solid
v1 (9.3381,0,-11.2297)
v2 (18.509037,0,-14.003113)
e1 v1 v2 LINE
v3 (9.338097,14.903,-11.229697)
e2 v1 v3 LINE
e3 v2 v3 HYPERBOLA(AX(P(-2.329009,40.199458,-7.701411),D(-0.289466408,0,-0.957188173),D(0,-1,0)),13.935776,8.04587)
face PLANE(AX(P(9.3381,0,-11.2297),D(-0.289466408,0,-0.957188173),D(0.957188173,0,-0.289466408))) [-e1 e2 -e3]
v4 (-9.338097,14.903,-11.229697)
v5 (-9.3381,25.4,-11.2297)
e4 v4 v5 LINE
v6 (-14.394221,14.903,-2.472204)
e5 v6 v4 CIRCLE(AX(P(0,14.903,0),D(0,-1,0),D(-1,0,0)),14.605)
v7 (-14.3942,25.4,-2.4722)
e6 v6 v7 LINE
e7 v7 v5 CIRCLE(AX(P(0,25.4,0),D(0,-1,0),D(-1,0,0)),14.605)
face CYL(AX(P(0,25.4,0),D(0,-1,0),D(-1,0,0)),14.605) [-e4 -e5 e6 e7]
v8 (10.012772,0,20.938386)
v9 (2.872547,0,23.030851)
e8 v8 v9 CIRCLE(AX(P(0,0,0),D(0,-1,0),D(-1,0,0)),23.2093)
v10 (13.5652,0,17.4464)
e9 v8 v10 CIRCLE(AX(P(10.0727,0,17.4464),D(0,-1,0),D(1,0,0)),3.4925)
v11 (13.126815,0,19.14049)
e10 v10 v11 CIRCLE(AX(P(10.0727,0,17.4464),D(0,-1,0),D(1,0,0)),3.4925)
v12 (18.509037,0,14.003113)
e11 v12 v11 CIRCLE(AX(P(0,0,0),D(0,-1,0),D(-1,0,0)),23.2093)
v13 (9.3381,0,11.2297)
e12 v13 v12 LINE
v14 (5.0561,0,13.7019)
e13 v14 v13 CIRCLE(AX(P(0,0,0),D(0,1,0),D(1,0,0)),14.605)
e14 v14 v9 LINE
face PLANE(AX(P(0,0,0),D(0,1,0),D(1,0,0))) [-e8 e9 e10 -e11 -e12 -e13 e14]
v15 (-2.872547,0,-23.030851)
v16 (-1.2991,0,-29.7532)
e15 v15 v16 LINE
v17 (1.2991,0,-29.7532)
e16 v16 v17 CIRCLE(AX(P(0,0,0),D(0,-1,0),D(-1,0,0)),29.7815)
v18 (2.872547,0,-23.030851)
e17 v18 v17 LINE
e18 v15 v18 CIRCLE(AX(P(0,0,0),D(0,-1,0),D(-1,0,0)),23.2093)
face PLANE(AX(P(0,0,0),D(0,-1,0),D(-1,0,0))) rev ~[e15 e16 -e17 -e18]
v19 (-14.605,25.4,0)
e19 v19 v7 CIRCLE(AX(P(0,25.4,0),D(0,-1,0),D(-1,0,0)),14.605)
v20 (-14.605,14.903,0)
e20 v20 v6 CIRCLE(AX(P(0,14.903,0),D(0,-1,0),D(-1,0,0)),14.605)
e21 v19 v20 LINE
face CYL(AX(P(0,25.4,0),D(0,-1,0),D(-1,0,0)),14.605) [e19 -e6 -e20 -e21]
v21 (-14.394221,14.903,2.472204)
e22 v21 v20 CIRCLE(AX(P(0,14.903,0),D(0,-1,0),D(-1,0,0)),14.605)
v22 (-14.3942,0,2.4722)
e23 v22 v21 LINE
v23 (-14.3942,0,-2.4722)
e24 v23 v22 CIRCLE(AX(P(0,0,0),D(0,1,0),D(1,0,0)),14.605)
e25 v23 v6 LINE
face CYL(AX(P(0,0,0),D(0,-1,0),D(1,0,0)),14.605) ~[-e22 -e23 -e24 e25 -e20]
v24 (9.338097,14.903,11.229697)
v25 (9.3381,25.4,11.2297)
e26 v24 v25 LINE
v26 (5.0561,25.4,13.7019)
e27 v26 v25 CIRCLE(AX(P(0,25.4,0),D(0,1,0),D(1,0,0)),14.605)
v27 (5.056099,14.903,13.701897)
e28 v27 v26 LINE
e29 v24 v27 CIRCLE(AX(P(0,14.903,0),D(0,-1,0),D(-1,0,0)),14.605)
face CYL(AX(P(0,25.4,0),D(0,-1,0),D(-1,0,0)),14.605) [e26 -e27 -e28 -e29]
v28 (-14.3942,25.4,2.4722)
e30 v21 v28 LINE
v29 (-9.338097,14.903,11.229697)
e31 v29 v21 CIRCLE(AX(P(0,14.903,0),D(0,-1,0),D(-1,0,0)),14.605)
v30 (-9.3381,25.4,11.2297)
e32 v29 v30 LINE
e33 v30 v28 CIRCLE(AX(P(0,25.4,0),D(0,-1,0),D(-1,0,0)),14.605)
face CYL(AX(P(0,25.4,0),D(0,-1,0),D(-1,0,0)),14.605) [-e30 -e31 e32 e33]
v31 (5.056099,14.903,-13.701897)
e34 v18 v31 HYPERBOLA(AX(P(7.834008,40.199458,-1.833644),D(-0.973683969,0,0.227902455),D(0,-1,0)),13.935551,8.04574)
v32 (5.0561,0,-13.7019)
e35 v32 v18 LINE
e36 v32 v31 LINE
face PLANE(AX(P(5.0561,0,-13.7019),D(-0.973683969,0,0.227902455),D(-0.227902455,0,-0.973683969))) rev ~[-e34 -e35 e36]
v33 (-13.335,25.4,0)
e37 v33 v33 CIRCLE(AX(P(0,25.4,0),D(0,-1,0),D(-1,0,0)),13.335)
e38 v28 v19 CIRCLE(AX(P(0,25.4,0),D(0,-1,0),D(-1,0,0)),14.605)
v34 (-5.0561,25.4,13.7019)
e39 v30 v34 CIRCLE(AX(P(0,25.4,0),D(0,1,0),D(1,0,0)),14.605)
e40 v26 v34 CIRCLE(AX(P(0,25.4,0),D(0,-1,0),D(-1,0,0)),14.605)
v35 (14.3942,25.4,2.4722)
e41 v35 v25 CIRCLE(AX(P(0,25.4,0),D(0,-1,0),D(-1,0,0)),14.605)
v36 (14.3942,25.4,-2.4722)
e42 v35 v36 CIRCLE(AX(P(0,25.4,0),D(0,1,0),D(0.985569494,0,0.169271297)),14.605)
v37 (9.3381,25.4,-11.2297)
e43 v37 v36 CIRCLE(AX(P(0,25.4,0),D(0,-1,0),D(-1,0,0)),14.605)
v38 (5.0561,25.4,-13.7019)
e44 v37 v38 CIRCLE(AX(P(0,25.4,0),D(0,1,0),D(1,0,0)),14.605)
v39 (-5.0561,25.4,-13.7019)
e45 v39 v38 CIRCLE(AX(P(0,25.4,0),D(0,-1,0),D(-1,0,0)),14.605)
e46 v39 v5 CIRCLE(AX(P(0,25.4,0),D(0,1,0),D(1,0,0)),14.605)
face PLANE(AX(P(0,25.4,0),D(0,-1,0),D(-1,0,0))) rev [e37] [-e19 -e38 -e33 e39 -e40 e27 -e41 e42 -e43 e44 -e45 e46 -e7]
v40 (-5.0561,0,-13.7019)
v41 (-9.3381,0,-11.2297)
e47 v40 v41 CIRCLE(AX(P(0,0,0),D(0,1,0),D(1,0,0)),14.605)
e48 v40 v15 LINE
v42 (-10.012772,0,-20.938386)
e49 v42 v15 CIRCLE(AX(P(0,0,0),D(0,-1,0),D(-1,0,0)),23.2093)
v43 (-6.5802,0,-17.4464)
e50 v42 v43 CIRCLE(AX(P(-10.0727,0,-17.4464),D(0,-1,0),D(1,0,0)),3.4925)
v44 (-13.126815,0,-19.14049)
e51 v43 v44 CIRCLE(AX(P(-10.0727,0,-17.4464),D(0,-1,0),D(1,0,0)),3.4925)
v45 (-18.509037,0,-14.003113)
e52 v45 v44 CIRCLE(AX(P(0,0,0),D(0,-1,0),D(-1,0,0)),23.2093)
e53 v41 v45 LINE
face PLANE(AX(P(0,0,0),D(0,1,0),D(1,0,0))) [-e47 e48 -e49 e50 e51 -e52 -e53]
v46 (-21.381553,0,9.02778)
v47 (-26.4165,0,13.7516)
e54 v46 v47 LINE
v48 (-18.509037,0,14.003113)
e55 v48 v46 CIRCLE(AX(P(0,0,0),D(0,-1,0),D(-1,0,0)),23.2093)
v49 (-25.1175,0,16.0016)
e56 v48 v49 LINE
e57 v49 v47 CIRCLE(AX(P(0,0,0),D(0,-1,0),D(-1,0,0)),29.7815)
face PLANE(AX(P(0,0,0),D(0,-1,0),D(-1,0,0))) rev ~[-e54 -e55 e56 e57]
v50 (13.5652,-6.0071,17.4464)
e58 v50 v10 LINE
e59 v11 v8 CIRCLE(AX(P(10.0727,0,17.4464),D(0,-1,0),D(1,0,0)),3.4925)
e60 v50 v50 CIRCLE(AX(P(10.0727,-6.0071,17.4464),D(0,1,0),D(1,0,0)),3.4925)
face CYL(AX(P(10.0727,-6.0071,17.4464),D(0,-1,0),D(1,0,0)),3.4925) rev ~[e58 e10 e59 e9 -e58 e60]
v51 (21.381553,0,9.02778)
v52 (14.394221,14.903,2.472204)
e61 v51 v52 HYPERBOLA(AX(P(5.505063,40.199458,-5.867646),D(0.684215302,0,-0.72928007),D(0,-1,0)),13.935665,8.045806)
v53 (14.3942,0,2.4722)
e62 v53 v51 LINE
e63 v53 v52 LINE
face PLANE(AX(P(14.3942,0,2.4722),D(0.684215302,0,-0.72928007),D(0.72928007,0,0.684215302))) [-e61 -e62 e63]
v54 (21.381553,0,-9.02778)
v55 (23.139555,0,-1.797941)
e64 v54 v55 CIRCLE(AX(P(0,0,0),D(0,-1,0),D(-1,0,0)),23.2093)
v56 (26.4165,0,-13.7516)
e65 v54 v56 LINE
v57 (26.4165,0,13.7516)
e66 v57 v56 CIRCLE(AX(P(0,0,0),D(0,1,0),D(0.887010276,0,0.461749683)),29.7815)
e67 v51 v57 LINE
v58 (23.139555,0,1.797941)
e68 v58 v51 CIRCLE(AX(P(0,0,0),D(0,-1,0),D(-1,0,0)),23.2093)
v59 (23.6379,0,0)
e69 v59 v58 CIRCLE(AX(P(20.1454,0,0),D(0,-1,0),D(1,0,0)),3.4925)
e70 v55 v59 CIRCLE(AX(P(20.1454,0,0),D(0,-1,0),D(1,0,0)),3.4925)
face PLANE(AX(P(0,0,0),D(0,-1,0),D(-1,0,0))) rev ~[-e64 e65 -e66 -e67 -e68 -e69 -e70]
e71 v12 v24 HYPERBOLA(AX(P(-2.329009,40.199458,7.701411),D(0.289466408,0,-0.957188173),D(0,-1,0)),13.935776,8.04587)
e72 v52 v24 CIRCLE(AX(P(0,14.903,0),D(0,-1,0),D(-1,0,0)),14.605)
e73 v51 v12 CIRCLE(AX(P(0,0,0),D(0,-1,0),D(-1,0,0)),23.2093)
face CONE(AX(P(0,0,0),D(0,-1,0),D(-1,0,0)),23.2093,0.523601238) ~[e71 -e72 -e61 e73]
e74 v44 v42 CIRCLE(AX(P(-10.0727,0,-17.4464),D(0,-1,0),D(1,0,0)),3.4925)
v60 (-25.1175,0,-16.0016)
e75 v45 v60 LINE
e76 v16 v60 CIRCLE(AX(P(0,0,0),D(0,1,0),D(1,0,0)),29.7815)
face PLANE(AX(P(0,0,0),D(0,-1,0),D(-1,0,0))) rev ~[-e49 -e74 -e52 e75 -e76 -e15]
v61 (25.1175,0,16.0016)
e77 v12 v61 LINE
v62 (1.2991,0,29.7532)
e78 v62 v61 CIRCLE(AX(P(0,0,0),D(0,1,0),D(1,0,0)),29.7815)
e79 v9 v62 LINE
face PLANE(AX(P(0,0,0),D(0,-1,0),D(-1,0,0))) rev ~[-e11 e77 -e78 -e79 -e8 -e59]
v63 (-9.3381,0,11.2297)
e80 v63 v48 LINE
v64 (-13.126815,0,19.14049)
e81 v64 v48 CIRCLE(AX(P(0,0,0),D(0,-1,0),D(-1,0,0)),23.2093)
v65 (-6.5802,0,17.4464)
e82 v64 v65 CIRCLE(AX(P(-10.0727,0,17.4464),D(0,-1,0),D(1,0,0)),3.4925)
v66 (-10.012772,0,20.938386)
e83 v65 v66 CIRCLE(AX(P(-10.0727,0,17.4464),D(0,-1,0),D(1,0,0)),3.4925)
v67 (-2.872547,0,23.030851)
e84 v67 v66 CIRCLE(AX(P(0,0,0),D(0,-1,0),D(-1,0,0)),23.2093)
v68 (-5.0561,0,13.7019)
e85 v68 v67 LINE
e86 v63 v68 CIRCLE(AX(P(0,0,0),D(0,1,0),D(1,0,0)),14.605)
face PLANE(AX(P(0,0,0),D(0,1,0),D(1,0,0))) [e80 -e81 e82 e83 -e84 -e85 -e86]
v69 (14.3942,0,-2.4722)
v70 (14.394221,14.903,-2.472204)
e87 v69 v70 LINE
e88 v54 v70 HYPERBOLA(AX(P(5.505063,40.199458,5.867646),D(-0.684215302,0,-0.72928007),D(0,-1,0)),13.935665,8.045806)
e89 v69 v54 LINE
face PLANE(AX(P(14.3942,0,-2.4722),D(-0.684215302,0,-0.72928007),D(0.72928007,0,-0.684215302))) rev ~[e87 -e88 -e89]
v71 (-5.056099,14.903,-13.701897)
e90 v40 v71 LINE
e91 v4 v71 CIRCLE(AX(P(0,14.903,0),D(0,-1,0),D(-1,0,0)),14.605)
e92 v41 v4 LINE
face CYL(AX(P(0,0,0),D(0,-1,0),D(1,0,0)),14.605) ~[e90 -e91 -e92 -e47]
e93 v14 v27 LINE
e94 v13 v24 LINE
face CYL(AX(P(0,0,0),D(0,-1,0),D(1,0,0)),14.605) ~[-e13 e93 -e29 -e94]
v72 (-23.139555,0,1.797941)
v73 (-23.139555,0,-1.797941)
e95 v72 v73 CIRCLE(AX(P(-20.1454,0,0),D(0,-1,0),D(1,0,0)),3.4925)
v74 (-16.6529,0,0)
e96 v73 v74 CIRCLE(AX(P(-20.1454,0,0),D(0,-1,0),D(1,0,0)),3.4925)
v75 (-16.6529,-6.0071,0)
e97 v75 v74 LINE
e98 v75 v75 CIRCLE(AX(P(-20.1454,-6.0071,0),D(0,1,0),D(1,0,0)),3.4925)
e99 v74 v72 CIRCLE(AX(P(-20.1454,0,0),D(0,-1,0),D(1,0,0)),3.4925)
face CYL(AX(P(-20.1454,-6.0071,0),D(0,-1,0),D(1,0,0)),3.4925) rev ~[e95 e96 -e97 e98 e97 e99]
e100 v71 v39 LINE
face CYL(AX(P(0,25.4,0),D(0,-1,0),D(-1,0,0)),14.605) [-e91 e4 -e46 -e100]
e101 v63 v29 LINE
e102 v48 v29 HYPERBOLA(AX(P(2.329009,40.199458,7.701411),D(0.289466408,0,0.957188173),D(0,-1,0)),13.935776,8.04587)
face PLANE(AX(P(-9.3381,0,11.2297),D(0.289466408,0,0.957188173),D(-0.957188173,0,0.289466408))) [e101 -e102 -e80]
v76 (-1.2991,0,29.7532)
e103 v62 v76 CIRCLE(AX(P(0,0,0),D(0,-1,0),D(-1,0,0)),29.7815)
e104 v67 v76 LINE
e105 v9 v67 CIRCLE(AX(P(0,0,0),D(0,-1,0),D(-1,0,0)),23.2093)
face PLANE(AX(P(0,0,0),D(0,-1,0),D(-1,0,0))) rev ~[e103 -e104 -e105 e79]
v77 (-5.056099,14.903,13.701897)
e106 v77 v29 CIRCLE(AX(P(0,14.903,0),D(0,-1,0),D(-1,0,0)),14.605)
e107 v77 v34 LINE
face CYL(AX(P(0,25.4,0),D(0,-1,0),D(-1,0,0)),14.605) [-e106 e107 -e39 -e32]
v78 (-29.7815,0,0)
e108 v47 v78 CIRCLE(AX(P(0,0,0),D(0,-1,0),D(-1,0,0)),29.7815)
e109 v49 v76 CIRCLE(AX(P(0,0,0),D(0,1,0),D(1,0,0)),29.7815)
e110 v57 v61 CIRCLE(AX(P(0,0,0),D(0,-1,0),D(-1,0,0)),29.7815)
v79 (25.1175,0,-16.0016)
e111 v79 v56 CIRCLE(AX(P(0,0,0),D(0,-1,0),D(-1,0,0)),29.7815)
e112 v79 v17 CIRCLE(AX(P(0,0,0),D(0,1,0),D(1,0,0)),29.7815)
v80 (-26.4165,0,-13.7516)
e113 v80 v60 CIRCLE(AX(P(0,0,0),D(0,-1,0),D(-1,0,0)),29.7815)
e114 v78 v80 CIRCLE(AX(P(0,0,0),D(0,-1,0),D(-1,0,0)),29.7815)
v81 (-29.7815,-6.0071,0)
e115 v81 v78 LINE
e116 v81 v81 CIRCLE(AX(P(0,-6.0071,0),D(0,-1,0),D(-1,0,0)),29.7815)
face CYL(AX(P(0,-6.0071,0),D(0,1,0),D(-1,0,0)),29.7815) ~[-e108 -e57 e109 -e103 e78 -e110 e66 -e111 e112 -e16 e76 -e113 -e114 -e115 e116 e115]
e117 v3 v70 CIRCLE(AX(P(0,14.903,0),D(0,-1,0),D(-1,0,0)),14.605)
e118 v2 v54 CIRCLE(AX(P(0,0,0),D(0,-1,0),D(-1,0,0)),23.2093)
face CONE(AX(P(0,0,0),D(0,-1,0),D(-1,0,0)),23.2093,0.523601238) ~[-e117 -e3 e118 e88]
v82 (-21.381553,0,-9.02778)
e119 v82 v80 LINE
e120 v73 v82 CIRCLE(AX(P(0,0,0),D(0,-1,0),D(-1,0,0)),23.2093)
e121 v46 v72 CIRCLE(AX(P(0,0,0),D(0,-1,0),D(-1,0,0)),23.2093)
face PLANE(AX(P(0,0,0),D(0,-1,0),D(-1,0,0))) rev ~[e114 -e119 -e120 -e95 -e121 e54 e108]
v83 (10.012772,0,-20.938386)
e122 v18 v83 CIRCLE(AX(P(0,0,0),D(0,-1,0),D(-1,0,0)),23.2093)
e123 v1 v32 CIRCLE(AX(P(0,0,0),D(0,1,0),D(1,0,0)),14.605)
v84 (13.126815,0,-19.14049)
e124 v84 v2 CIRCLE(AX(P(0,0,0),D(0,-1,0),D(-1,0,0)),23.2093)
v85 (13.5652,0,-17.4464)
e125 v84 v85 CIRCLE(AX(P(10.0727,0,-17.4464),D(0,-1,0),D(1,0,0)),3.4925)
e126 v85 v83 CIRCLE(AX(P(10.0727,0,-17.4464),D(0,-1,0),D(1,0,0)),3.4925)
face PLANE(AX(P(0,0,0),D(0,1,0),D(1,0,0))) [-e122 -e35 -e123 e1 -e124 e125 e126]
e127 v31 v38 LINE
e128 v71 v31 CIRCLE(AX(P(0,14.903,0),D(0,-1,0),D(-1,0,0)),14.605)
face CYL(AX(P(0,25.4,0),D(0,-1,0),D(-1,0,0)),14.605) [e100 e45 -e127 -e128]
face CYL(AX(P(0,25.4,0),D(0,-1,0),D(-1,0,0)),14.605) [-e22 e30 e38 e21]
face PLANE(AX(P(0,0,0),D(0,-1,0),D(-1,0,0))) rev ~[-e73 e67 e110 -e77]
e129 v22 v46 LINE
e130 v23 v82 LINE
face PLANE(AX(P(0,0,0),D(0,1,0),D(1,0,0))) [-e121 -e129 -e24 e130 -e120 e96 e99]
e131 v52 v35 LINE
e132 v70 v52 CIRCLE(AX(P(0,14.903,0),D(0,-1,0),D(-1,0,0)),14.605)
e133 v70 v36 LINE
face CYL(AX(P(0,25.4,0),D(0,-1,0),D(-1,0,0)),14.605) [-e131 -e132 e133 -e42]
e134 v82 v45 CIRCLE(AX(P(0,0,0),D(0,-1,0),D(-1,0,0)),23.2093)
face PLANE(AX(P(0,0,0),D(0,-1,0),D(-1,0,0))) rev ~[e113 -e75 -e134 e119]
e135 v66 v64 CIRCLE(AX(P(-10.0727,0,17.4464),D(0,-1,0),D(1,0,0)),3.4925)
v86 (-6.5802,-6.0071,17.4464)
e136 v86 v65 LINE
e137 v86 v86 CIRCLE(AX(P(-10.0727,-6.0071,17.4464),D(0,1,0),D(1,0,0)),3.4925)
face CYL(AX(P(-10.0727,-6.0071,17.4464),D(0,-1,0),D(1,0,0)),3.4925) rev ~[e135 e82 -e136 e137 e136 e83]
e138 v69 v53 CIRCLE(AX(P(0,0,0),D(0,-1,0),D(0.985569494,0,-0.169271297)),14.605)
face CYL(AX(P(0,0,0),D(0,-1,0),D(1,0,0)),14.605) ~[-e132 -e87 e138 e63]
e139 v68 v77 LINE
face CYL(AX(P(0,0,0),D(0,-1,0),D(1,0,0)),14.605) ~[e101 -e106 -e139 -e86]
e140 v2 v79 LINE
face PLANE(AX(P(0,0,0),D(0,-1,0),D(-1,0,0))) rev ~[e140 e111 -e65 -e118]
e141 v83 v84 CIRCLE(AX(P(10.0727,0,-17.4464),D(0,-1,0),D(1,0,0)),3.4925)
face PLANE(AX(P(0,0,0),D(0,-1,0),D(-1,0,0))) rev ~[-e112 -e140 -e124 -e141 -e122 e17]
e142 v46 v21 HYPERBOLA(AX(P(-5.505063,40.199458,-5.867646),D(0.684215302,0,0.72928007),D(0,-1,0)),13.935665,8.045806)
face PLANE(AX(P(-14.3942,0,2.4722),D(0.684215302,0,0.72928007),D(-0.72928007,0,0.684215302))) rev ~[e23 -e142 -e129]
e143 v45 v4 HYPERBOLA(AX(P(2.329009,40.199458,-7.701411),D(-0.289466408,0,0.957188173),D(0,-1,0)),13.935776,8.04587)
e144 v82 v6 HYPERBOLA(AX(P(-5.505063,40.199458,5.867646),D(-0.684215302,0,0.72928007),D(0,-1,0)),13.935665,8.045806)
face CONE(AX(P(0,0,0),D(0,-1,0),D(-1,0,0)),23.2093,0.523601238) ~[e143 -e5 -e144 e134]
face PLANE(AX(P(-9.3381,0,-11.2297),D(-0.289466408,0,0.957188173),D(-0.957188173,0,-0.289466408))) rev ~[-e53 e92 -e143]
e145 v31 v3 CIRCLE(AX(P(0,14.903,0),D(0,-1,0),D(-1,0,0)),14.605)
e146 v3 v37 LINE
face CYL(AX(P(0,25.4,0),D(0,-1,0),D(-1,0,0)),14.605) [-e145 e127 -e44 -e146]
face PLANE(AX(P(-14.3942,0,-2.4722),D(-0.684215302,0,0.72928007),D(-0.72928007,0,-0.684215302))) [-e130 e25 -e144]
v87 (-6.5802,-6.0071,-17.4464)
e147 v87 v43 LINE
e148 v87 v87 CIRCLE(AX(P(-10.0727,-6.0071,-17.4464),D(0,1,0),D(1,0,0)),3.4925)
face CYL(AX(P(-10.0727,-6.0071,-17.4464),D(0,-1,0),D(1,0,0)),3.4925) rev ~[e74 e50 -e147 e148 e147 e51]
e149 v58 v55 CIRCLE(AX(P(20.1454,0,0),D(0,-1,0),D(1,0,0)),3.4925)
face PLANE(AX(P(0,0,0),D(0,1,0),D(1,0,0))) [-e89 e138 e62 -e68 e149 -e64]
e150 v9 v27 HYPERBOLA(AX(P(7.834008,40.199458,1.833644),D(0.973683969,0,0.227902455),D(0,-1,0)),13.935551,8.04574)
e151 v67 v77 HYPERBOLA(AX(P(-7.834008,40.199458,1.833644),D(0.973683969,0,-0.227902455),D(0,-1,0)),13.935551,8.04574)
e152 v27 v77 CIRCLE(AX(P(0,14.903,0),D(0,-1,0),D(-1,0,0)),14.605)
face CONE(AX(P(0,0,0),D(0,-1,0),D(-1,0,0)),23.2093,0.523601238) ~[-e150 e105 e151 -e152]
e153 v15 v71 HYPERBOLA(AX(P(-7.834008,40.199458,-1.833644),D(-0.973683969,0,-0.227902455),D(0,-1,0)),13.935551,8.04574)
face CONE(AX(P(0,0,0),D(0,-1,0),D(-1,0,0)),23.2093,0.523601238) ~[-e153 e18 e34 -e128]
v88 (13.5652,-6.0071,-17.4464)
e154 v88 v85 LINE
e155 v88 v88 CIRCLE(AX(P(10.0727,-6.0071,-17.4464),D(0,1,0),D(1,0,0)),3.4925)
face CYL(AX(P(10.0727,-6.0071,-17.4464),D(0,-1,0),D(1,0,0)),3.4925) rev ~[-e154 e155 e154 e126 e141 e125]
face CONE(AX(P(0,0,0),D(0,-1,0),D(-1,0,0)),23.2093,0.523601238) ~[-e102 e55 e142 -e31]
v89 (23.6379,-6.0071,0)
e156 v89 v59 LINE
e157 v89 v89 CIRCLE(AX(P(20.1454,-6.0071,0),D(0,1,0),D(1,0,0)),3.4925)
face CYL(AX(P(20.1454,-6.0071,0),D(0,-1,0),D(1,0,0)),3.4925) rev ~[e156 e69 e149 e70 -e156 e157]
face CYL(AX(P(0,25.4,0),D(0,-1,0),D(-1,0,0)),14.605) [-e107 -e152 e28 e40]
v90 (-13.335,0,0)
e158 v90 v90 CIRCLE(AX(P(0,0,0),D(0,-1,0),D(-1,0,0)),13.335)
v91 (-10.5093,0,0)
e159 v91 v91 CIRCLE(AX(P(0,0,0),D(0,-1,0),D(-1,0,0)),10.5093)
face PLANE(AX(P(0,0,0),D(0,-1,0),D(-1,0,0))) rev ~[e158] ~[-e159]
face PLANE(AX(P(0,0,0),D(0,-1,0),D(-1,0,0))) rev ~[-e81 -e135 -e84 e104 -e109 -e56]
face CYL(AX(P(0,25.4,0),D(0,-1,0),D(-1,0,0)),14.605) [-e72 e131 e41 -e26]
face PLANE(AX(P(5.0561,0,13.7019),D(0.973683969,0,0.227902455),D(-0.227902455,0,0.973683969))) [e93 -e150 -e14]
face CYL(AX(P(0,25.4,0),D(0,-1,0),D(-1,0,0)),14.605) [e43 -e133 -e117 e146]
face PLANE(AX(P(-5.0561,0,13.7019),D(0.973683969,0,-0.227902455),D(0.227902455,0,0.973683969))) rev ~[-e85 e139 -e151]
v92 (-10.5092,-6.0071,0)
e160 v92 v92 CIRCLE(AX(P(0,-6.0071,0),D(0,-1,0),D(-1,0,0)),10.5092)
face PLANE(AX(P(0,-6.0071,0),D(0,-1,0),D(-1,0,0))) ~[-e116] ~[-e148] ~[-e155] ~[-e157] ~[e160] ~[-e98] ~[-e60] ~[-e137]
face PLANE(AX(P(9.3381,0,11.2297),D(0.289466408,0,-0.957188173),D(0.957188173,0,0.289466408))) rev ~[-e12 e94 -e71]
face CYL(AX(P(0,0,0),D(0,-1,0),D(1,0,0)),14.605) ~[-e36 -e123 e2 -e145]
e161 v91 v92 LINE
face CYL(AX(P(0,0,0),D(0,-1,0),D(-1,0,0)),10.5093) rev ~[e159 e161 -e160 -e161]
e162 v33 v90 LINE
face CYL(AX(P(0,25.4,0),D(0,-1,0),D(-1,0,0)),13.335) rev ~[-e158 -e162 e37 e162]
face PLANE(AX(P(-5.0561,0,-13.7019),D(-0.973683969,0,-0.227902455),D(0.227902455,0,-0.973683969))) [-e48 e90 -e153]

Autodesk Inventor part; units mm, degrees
ref_plane "YZ Plane" through (0, 0, 0) normal (1, 0, 0) x (0, 1, 0)
ref_plane "XZ Plane" through (0, 0, 0) normal (0, 1, 0) x (-1, 0, 0)
ref_plane "XY Plane" through (0, 0, 0) normal (0, 0, 1) x (1, 0, 0)
sketch "Sketch1" plane through (0, 0, 0) normal (0, 0, 1) x (1, 0, 0)
  line L0 (0, 52.767) -> (0, -45.7542)
  line L1 (-13.335, 25.4) -> (-13.335, 0)
  line L2 (-10.5093, 0) -> (-10.5092, -6.0071)
  line L3 (-13.335, 0) -> (-10.5093, 0)
  line L4 (-13.335, 25.4) -> (-14.605, 25.4)
  line L5 (-14.605, 25.4) -> (-14.605, 14.903)
  line L6 (-10.5092, -6.0071) -> (-29.7815, -6.0071)
  line L7 (-29.7815, -6.0071) -> (-29.7815, 0)
  line L8 (-29.7815, 0) -> (-23.2093, 0)
  line L9 (-23.2093, 0) -> (-14.605, 14.903)
  point P0 (0, 0)
  dimension "d0" = 25.4
  dimension "d1" = 26.67
  dimension "d2" = 6.0071
  dimension "d3" = 21.0185
  dimension "d4" = 1.27
  dimension "d5" = 19.2722
  dimension "d6" = 6.5723
  dimension "d7" = 30
revolve "Revolution1" add sketch "Sketch1" angle 360 about axis through (0, 52.767, 0) along (0, -1, 0)
sketch "Sketch2" plane through (0, -6.0071, 0) normal (0, -1, 0) x (1, 0, 0)
  circle A0 centre (0, 0) radius 10.5093
  circle A1 centre (0, 0) radius 10.5092 projected
  circle A2 centre (0, 0) radius 29.7815
  circle A3 centre (0, 0) radius 20.1454
  circle A4 centre (0, 0) radius 29.7815 projected
  line L0 (29.7815, 0) -> (20.1454, 0)
  line L1 (-10.5093, 0) -> (-20.1454, 0)
  circle A5 centre (20.1454, 0) radius 3.4925
  circle A6 centre (10.0727, 17.4464) radius 3.4925
  circle A7 centre (-10.0727, 17.4464) radius 3.4925
  circle A8 centre (-20.1454, 0) radius 3.4925
  circle A9 centre (-10.0727, -17.4464) radius 3.4925
  circle A10 centre (10.0727, -17.4464) radius 3.4925
  point P0 (0, 0)
  dimension "d10" = 6.985
  dimension "d13" = 360
extrude "Extrusion1" cut sketch "Sketch2" against normal through all contours A8 A3 L1 | L1 A3 A8 | A3 A8 | A7 A3 | A3 A7 | A9 A3 | A3 A9 | A6 A3 | A3 A6 | A10 A3 | A3 A10 | A5 L0 A3 | A3 A5 | A3 L0 A5
sketch "Sketch3" plane through (0, 0, 0) normal (0, 1, 0) x (1, 0, 0)
  circle A0 centre (0, 0) radius 29.7815 projected
  arc A1 (26.4165, -13.7516) -> (26.4165, 13.7516) centre (0, 0) ccw
  line L0 (14.3942, 2.4722) -> (26.4165, 13.7516)
  line L1 (14.3942, -2.4722) -> (26.4165, -13.7516)
  circle A2 centre (0, 0) radius 14.605 projected
  arc A3 (14.3942, -2.4722) -> (14.3942, 2.4722) centre (0, 0) ccw
  arc A4 (25.1175, 16.0016) -> (1.2991, 29.7532) centre (0, 0) ccw
  line L2 (5.0561, 13.7019) -> (1.2991, 29.7532)
  line L3 (9.3381, 11.2297) -> (25.1175, 16.0016)
  arc A5 (9.3381, 11.2297) -> (5.0561, 13.7019) centre (0, 0) ccw
  arc A6 (-1.2991, 29.7532) -> (-25.1175, 16.0016) centre (0, 0) ccw
  line L4 (-9.3381, 11.2297) -> (-25.1175, 16.0016)
  line L5 (-5.0561, 13.7019) -> (-1.2991, 29.7532)
  arc A7 (-5.0561, 13.7019) -> (-9.3381, 11.2297) centre (0, 0) ccw
  arc A8 (-26.4165, 13.7516) -> (-26.4165, -13.7516) centre (0, 0) ccw
  line L6 (-14.3942, -2.4722) -> (-26.4165, -13.7516)
  line L7 (-14.3942, 2.4722) -> (-26.4165, 13.7516)
  arc A9 (-14.3942, 2.4722) -> (-14.3942, -2.4722) centre (0, 0) ccw
  arc A10 (-25.1175, -16.0016) -> (-1.2991, -29.7532) centre (0, 0) ccw
  line L8 (-5.0561, -13.7019) -> (-1.2991, -29.7532)
  line L9 (-9.3381, -11.2297) -> (-25.1175, -16.0016)
  arc A11 (-9.3381, -11.2297) -> (-5.0561, -13.7019) centre (0, 0) ccw
  arc A12 (1.2991, -29.7532) -> (25.1175, -16.0016) centre (0, 0) ccw
  line L10 (9.3381, -11.2297) -> (25.1175, -16.0016)
  line L11 (5.0561, -13.7019) -> (1.2991, -29.7532)
  arc A13 (5.0561, -13.7019) -> (9.3381, -11.2297) centre (0, 0) ccw
  line L12 (-2.8655, 0) -> (7.3025, 0)
  point P0 (23.1395, -1.798)
  point P1 (23.1395, 1.798)
  point P2 (19.5399, 3.4396)
  point P3 (19.5399, -3.4396)
  point P4 (13.1269, 19.1404)
  point P5 (10.0126, 20.9384)
  point P6 (-10.0126, 20.9384)
  point P7 (-13.1269, 19.1404)
  point P8 (-23.1395, 1.798)
  point P9 (-23.1395, -1.798)
  point P10 (-13.1269, -19.1404)
  point P11 (-10.0126, -20.9384)
  point P12 (10.0126, -20.9384)
  point P13 (13.1269, -19.1404)
  point P14 (-5.0561, 13.7019)
  point P15 (-1.2991, 29.7532)
  point P16 (-25.1175, 16.0016)
  point P17 (-9.3381, 11.2297)
  point P18 (-14.3942, 2.4722)
  point P19 (-26.4165, 13.7516)
  point P20 (-26.4165, -13.7516)
  point P21 (-14.3942, -2.4722)
  point P22 (-9.3381, -11.2297)
  point P23 (-25.1175, -16.0016)
  point P24 (-1.2991, -29.7532)
  point P25 (-5.0561, -13.7019)
  point P26 (5.0561, -13.7019)
  point P27 (1.2991, -29.7532)
  point P28 (25.1175, -16.0016)
  point P29 (9.3381, -11.2297)
  point P30 (9.3381, 11.2297)
  point P31 (1.2991, 29.7532)
  point P32 (5.0561, 13.7019)
  dimension "d21" = 360
  dimension "d23" = 55
extrude "Extrusion2" cut sketch "Sketch3" along normal blind 25.4 contours A0 L1 A2 L0 | L3 A2 L2 A0 | A0 L11 A2 L10 | L5 A2 L4 A0 | A0 L9 A2 L8 | L7 A2 L6 A0
properties part number "Connector_ring"
